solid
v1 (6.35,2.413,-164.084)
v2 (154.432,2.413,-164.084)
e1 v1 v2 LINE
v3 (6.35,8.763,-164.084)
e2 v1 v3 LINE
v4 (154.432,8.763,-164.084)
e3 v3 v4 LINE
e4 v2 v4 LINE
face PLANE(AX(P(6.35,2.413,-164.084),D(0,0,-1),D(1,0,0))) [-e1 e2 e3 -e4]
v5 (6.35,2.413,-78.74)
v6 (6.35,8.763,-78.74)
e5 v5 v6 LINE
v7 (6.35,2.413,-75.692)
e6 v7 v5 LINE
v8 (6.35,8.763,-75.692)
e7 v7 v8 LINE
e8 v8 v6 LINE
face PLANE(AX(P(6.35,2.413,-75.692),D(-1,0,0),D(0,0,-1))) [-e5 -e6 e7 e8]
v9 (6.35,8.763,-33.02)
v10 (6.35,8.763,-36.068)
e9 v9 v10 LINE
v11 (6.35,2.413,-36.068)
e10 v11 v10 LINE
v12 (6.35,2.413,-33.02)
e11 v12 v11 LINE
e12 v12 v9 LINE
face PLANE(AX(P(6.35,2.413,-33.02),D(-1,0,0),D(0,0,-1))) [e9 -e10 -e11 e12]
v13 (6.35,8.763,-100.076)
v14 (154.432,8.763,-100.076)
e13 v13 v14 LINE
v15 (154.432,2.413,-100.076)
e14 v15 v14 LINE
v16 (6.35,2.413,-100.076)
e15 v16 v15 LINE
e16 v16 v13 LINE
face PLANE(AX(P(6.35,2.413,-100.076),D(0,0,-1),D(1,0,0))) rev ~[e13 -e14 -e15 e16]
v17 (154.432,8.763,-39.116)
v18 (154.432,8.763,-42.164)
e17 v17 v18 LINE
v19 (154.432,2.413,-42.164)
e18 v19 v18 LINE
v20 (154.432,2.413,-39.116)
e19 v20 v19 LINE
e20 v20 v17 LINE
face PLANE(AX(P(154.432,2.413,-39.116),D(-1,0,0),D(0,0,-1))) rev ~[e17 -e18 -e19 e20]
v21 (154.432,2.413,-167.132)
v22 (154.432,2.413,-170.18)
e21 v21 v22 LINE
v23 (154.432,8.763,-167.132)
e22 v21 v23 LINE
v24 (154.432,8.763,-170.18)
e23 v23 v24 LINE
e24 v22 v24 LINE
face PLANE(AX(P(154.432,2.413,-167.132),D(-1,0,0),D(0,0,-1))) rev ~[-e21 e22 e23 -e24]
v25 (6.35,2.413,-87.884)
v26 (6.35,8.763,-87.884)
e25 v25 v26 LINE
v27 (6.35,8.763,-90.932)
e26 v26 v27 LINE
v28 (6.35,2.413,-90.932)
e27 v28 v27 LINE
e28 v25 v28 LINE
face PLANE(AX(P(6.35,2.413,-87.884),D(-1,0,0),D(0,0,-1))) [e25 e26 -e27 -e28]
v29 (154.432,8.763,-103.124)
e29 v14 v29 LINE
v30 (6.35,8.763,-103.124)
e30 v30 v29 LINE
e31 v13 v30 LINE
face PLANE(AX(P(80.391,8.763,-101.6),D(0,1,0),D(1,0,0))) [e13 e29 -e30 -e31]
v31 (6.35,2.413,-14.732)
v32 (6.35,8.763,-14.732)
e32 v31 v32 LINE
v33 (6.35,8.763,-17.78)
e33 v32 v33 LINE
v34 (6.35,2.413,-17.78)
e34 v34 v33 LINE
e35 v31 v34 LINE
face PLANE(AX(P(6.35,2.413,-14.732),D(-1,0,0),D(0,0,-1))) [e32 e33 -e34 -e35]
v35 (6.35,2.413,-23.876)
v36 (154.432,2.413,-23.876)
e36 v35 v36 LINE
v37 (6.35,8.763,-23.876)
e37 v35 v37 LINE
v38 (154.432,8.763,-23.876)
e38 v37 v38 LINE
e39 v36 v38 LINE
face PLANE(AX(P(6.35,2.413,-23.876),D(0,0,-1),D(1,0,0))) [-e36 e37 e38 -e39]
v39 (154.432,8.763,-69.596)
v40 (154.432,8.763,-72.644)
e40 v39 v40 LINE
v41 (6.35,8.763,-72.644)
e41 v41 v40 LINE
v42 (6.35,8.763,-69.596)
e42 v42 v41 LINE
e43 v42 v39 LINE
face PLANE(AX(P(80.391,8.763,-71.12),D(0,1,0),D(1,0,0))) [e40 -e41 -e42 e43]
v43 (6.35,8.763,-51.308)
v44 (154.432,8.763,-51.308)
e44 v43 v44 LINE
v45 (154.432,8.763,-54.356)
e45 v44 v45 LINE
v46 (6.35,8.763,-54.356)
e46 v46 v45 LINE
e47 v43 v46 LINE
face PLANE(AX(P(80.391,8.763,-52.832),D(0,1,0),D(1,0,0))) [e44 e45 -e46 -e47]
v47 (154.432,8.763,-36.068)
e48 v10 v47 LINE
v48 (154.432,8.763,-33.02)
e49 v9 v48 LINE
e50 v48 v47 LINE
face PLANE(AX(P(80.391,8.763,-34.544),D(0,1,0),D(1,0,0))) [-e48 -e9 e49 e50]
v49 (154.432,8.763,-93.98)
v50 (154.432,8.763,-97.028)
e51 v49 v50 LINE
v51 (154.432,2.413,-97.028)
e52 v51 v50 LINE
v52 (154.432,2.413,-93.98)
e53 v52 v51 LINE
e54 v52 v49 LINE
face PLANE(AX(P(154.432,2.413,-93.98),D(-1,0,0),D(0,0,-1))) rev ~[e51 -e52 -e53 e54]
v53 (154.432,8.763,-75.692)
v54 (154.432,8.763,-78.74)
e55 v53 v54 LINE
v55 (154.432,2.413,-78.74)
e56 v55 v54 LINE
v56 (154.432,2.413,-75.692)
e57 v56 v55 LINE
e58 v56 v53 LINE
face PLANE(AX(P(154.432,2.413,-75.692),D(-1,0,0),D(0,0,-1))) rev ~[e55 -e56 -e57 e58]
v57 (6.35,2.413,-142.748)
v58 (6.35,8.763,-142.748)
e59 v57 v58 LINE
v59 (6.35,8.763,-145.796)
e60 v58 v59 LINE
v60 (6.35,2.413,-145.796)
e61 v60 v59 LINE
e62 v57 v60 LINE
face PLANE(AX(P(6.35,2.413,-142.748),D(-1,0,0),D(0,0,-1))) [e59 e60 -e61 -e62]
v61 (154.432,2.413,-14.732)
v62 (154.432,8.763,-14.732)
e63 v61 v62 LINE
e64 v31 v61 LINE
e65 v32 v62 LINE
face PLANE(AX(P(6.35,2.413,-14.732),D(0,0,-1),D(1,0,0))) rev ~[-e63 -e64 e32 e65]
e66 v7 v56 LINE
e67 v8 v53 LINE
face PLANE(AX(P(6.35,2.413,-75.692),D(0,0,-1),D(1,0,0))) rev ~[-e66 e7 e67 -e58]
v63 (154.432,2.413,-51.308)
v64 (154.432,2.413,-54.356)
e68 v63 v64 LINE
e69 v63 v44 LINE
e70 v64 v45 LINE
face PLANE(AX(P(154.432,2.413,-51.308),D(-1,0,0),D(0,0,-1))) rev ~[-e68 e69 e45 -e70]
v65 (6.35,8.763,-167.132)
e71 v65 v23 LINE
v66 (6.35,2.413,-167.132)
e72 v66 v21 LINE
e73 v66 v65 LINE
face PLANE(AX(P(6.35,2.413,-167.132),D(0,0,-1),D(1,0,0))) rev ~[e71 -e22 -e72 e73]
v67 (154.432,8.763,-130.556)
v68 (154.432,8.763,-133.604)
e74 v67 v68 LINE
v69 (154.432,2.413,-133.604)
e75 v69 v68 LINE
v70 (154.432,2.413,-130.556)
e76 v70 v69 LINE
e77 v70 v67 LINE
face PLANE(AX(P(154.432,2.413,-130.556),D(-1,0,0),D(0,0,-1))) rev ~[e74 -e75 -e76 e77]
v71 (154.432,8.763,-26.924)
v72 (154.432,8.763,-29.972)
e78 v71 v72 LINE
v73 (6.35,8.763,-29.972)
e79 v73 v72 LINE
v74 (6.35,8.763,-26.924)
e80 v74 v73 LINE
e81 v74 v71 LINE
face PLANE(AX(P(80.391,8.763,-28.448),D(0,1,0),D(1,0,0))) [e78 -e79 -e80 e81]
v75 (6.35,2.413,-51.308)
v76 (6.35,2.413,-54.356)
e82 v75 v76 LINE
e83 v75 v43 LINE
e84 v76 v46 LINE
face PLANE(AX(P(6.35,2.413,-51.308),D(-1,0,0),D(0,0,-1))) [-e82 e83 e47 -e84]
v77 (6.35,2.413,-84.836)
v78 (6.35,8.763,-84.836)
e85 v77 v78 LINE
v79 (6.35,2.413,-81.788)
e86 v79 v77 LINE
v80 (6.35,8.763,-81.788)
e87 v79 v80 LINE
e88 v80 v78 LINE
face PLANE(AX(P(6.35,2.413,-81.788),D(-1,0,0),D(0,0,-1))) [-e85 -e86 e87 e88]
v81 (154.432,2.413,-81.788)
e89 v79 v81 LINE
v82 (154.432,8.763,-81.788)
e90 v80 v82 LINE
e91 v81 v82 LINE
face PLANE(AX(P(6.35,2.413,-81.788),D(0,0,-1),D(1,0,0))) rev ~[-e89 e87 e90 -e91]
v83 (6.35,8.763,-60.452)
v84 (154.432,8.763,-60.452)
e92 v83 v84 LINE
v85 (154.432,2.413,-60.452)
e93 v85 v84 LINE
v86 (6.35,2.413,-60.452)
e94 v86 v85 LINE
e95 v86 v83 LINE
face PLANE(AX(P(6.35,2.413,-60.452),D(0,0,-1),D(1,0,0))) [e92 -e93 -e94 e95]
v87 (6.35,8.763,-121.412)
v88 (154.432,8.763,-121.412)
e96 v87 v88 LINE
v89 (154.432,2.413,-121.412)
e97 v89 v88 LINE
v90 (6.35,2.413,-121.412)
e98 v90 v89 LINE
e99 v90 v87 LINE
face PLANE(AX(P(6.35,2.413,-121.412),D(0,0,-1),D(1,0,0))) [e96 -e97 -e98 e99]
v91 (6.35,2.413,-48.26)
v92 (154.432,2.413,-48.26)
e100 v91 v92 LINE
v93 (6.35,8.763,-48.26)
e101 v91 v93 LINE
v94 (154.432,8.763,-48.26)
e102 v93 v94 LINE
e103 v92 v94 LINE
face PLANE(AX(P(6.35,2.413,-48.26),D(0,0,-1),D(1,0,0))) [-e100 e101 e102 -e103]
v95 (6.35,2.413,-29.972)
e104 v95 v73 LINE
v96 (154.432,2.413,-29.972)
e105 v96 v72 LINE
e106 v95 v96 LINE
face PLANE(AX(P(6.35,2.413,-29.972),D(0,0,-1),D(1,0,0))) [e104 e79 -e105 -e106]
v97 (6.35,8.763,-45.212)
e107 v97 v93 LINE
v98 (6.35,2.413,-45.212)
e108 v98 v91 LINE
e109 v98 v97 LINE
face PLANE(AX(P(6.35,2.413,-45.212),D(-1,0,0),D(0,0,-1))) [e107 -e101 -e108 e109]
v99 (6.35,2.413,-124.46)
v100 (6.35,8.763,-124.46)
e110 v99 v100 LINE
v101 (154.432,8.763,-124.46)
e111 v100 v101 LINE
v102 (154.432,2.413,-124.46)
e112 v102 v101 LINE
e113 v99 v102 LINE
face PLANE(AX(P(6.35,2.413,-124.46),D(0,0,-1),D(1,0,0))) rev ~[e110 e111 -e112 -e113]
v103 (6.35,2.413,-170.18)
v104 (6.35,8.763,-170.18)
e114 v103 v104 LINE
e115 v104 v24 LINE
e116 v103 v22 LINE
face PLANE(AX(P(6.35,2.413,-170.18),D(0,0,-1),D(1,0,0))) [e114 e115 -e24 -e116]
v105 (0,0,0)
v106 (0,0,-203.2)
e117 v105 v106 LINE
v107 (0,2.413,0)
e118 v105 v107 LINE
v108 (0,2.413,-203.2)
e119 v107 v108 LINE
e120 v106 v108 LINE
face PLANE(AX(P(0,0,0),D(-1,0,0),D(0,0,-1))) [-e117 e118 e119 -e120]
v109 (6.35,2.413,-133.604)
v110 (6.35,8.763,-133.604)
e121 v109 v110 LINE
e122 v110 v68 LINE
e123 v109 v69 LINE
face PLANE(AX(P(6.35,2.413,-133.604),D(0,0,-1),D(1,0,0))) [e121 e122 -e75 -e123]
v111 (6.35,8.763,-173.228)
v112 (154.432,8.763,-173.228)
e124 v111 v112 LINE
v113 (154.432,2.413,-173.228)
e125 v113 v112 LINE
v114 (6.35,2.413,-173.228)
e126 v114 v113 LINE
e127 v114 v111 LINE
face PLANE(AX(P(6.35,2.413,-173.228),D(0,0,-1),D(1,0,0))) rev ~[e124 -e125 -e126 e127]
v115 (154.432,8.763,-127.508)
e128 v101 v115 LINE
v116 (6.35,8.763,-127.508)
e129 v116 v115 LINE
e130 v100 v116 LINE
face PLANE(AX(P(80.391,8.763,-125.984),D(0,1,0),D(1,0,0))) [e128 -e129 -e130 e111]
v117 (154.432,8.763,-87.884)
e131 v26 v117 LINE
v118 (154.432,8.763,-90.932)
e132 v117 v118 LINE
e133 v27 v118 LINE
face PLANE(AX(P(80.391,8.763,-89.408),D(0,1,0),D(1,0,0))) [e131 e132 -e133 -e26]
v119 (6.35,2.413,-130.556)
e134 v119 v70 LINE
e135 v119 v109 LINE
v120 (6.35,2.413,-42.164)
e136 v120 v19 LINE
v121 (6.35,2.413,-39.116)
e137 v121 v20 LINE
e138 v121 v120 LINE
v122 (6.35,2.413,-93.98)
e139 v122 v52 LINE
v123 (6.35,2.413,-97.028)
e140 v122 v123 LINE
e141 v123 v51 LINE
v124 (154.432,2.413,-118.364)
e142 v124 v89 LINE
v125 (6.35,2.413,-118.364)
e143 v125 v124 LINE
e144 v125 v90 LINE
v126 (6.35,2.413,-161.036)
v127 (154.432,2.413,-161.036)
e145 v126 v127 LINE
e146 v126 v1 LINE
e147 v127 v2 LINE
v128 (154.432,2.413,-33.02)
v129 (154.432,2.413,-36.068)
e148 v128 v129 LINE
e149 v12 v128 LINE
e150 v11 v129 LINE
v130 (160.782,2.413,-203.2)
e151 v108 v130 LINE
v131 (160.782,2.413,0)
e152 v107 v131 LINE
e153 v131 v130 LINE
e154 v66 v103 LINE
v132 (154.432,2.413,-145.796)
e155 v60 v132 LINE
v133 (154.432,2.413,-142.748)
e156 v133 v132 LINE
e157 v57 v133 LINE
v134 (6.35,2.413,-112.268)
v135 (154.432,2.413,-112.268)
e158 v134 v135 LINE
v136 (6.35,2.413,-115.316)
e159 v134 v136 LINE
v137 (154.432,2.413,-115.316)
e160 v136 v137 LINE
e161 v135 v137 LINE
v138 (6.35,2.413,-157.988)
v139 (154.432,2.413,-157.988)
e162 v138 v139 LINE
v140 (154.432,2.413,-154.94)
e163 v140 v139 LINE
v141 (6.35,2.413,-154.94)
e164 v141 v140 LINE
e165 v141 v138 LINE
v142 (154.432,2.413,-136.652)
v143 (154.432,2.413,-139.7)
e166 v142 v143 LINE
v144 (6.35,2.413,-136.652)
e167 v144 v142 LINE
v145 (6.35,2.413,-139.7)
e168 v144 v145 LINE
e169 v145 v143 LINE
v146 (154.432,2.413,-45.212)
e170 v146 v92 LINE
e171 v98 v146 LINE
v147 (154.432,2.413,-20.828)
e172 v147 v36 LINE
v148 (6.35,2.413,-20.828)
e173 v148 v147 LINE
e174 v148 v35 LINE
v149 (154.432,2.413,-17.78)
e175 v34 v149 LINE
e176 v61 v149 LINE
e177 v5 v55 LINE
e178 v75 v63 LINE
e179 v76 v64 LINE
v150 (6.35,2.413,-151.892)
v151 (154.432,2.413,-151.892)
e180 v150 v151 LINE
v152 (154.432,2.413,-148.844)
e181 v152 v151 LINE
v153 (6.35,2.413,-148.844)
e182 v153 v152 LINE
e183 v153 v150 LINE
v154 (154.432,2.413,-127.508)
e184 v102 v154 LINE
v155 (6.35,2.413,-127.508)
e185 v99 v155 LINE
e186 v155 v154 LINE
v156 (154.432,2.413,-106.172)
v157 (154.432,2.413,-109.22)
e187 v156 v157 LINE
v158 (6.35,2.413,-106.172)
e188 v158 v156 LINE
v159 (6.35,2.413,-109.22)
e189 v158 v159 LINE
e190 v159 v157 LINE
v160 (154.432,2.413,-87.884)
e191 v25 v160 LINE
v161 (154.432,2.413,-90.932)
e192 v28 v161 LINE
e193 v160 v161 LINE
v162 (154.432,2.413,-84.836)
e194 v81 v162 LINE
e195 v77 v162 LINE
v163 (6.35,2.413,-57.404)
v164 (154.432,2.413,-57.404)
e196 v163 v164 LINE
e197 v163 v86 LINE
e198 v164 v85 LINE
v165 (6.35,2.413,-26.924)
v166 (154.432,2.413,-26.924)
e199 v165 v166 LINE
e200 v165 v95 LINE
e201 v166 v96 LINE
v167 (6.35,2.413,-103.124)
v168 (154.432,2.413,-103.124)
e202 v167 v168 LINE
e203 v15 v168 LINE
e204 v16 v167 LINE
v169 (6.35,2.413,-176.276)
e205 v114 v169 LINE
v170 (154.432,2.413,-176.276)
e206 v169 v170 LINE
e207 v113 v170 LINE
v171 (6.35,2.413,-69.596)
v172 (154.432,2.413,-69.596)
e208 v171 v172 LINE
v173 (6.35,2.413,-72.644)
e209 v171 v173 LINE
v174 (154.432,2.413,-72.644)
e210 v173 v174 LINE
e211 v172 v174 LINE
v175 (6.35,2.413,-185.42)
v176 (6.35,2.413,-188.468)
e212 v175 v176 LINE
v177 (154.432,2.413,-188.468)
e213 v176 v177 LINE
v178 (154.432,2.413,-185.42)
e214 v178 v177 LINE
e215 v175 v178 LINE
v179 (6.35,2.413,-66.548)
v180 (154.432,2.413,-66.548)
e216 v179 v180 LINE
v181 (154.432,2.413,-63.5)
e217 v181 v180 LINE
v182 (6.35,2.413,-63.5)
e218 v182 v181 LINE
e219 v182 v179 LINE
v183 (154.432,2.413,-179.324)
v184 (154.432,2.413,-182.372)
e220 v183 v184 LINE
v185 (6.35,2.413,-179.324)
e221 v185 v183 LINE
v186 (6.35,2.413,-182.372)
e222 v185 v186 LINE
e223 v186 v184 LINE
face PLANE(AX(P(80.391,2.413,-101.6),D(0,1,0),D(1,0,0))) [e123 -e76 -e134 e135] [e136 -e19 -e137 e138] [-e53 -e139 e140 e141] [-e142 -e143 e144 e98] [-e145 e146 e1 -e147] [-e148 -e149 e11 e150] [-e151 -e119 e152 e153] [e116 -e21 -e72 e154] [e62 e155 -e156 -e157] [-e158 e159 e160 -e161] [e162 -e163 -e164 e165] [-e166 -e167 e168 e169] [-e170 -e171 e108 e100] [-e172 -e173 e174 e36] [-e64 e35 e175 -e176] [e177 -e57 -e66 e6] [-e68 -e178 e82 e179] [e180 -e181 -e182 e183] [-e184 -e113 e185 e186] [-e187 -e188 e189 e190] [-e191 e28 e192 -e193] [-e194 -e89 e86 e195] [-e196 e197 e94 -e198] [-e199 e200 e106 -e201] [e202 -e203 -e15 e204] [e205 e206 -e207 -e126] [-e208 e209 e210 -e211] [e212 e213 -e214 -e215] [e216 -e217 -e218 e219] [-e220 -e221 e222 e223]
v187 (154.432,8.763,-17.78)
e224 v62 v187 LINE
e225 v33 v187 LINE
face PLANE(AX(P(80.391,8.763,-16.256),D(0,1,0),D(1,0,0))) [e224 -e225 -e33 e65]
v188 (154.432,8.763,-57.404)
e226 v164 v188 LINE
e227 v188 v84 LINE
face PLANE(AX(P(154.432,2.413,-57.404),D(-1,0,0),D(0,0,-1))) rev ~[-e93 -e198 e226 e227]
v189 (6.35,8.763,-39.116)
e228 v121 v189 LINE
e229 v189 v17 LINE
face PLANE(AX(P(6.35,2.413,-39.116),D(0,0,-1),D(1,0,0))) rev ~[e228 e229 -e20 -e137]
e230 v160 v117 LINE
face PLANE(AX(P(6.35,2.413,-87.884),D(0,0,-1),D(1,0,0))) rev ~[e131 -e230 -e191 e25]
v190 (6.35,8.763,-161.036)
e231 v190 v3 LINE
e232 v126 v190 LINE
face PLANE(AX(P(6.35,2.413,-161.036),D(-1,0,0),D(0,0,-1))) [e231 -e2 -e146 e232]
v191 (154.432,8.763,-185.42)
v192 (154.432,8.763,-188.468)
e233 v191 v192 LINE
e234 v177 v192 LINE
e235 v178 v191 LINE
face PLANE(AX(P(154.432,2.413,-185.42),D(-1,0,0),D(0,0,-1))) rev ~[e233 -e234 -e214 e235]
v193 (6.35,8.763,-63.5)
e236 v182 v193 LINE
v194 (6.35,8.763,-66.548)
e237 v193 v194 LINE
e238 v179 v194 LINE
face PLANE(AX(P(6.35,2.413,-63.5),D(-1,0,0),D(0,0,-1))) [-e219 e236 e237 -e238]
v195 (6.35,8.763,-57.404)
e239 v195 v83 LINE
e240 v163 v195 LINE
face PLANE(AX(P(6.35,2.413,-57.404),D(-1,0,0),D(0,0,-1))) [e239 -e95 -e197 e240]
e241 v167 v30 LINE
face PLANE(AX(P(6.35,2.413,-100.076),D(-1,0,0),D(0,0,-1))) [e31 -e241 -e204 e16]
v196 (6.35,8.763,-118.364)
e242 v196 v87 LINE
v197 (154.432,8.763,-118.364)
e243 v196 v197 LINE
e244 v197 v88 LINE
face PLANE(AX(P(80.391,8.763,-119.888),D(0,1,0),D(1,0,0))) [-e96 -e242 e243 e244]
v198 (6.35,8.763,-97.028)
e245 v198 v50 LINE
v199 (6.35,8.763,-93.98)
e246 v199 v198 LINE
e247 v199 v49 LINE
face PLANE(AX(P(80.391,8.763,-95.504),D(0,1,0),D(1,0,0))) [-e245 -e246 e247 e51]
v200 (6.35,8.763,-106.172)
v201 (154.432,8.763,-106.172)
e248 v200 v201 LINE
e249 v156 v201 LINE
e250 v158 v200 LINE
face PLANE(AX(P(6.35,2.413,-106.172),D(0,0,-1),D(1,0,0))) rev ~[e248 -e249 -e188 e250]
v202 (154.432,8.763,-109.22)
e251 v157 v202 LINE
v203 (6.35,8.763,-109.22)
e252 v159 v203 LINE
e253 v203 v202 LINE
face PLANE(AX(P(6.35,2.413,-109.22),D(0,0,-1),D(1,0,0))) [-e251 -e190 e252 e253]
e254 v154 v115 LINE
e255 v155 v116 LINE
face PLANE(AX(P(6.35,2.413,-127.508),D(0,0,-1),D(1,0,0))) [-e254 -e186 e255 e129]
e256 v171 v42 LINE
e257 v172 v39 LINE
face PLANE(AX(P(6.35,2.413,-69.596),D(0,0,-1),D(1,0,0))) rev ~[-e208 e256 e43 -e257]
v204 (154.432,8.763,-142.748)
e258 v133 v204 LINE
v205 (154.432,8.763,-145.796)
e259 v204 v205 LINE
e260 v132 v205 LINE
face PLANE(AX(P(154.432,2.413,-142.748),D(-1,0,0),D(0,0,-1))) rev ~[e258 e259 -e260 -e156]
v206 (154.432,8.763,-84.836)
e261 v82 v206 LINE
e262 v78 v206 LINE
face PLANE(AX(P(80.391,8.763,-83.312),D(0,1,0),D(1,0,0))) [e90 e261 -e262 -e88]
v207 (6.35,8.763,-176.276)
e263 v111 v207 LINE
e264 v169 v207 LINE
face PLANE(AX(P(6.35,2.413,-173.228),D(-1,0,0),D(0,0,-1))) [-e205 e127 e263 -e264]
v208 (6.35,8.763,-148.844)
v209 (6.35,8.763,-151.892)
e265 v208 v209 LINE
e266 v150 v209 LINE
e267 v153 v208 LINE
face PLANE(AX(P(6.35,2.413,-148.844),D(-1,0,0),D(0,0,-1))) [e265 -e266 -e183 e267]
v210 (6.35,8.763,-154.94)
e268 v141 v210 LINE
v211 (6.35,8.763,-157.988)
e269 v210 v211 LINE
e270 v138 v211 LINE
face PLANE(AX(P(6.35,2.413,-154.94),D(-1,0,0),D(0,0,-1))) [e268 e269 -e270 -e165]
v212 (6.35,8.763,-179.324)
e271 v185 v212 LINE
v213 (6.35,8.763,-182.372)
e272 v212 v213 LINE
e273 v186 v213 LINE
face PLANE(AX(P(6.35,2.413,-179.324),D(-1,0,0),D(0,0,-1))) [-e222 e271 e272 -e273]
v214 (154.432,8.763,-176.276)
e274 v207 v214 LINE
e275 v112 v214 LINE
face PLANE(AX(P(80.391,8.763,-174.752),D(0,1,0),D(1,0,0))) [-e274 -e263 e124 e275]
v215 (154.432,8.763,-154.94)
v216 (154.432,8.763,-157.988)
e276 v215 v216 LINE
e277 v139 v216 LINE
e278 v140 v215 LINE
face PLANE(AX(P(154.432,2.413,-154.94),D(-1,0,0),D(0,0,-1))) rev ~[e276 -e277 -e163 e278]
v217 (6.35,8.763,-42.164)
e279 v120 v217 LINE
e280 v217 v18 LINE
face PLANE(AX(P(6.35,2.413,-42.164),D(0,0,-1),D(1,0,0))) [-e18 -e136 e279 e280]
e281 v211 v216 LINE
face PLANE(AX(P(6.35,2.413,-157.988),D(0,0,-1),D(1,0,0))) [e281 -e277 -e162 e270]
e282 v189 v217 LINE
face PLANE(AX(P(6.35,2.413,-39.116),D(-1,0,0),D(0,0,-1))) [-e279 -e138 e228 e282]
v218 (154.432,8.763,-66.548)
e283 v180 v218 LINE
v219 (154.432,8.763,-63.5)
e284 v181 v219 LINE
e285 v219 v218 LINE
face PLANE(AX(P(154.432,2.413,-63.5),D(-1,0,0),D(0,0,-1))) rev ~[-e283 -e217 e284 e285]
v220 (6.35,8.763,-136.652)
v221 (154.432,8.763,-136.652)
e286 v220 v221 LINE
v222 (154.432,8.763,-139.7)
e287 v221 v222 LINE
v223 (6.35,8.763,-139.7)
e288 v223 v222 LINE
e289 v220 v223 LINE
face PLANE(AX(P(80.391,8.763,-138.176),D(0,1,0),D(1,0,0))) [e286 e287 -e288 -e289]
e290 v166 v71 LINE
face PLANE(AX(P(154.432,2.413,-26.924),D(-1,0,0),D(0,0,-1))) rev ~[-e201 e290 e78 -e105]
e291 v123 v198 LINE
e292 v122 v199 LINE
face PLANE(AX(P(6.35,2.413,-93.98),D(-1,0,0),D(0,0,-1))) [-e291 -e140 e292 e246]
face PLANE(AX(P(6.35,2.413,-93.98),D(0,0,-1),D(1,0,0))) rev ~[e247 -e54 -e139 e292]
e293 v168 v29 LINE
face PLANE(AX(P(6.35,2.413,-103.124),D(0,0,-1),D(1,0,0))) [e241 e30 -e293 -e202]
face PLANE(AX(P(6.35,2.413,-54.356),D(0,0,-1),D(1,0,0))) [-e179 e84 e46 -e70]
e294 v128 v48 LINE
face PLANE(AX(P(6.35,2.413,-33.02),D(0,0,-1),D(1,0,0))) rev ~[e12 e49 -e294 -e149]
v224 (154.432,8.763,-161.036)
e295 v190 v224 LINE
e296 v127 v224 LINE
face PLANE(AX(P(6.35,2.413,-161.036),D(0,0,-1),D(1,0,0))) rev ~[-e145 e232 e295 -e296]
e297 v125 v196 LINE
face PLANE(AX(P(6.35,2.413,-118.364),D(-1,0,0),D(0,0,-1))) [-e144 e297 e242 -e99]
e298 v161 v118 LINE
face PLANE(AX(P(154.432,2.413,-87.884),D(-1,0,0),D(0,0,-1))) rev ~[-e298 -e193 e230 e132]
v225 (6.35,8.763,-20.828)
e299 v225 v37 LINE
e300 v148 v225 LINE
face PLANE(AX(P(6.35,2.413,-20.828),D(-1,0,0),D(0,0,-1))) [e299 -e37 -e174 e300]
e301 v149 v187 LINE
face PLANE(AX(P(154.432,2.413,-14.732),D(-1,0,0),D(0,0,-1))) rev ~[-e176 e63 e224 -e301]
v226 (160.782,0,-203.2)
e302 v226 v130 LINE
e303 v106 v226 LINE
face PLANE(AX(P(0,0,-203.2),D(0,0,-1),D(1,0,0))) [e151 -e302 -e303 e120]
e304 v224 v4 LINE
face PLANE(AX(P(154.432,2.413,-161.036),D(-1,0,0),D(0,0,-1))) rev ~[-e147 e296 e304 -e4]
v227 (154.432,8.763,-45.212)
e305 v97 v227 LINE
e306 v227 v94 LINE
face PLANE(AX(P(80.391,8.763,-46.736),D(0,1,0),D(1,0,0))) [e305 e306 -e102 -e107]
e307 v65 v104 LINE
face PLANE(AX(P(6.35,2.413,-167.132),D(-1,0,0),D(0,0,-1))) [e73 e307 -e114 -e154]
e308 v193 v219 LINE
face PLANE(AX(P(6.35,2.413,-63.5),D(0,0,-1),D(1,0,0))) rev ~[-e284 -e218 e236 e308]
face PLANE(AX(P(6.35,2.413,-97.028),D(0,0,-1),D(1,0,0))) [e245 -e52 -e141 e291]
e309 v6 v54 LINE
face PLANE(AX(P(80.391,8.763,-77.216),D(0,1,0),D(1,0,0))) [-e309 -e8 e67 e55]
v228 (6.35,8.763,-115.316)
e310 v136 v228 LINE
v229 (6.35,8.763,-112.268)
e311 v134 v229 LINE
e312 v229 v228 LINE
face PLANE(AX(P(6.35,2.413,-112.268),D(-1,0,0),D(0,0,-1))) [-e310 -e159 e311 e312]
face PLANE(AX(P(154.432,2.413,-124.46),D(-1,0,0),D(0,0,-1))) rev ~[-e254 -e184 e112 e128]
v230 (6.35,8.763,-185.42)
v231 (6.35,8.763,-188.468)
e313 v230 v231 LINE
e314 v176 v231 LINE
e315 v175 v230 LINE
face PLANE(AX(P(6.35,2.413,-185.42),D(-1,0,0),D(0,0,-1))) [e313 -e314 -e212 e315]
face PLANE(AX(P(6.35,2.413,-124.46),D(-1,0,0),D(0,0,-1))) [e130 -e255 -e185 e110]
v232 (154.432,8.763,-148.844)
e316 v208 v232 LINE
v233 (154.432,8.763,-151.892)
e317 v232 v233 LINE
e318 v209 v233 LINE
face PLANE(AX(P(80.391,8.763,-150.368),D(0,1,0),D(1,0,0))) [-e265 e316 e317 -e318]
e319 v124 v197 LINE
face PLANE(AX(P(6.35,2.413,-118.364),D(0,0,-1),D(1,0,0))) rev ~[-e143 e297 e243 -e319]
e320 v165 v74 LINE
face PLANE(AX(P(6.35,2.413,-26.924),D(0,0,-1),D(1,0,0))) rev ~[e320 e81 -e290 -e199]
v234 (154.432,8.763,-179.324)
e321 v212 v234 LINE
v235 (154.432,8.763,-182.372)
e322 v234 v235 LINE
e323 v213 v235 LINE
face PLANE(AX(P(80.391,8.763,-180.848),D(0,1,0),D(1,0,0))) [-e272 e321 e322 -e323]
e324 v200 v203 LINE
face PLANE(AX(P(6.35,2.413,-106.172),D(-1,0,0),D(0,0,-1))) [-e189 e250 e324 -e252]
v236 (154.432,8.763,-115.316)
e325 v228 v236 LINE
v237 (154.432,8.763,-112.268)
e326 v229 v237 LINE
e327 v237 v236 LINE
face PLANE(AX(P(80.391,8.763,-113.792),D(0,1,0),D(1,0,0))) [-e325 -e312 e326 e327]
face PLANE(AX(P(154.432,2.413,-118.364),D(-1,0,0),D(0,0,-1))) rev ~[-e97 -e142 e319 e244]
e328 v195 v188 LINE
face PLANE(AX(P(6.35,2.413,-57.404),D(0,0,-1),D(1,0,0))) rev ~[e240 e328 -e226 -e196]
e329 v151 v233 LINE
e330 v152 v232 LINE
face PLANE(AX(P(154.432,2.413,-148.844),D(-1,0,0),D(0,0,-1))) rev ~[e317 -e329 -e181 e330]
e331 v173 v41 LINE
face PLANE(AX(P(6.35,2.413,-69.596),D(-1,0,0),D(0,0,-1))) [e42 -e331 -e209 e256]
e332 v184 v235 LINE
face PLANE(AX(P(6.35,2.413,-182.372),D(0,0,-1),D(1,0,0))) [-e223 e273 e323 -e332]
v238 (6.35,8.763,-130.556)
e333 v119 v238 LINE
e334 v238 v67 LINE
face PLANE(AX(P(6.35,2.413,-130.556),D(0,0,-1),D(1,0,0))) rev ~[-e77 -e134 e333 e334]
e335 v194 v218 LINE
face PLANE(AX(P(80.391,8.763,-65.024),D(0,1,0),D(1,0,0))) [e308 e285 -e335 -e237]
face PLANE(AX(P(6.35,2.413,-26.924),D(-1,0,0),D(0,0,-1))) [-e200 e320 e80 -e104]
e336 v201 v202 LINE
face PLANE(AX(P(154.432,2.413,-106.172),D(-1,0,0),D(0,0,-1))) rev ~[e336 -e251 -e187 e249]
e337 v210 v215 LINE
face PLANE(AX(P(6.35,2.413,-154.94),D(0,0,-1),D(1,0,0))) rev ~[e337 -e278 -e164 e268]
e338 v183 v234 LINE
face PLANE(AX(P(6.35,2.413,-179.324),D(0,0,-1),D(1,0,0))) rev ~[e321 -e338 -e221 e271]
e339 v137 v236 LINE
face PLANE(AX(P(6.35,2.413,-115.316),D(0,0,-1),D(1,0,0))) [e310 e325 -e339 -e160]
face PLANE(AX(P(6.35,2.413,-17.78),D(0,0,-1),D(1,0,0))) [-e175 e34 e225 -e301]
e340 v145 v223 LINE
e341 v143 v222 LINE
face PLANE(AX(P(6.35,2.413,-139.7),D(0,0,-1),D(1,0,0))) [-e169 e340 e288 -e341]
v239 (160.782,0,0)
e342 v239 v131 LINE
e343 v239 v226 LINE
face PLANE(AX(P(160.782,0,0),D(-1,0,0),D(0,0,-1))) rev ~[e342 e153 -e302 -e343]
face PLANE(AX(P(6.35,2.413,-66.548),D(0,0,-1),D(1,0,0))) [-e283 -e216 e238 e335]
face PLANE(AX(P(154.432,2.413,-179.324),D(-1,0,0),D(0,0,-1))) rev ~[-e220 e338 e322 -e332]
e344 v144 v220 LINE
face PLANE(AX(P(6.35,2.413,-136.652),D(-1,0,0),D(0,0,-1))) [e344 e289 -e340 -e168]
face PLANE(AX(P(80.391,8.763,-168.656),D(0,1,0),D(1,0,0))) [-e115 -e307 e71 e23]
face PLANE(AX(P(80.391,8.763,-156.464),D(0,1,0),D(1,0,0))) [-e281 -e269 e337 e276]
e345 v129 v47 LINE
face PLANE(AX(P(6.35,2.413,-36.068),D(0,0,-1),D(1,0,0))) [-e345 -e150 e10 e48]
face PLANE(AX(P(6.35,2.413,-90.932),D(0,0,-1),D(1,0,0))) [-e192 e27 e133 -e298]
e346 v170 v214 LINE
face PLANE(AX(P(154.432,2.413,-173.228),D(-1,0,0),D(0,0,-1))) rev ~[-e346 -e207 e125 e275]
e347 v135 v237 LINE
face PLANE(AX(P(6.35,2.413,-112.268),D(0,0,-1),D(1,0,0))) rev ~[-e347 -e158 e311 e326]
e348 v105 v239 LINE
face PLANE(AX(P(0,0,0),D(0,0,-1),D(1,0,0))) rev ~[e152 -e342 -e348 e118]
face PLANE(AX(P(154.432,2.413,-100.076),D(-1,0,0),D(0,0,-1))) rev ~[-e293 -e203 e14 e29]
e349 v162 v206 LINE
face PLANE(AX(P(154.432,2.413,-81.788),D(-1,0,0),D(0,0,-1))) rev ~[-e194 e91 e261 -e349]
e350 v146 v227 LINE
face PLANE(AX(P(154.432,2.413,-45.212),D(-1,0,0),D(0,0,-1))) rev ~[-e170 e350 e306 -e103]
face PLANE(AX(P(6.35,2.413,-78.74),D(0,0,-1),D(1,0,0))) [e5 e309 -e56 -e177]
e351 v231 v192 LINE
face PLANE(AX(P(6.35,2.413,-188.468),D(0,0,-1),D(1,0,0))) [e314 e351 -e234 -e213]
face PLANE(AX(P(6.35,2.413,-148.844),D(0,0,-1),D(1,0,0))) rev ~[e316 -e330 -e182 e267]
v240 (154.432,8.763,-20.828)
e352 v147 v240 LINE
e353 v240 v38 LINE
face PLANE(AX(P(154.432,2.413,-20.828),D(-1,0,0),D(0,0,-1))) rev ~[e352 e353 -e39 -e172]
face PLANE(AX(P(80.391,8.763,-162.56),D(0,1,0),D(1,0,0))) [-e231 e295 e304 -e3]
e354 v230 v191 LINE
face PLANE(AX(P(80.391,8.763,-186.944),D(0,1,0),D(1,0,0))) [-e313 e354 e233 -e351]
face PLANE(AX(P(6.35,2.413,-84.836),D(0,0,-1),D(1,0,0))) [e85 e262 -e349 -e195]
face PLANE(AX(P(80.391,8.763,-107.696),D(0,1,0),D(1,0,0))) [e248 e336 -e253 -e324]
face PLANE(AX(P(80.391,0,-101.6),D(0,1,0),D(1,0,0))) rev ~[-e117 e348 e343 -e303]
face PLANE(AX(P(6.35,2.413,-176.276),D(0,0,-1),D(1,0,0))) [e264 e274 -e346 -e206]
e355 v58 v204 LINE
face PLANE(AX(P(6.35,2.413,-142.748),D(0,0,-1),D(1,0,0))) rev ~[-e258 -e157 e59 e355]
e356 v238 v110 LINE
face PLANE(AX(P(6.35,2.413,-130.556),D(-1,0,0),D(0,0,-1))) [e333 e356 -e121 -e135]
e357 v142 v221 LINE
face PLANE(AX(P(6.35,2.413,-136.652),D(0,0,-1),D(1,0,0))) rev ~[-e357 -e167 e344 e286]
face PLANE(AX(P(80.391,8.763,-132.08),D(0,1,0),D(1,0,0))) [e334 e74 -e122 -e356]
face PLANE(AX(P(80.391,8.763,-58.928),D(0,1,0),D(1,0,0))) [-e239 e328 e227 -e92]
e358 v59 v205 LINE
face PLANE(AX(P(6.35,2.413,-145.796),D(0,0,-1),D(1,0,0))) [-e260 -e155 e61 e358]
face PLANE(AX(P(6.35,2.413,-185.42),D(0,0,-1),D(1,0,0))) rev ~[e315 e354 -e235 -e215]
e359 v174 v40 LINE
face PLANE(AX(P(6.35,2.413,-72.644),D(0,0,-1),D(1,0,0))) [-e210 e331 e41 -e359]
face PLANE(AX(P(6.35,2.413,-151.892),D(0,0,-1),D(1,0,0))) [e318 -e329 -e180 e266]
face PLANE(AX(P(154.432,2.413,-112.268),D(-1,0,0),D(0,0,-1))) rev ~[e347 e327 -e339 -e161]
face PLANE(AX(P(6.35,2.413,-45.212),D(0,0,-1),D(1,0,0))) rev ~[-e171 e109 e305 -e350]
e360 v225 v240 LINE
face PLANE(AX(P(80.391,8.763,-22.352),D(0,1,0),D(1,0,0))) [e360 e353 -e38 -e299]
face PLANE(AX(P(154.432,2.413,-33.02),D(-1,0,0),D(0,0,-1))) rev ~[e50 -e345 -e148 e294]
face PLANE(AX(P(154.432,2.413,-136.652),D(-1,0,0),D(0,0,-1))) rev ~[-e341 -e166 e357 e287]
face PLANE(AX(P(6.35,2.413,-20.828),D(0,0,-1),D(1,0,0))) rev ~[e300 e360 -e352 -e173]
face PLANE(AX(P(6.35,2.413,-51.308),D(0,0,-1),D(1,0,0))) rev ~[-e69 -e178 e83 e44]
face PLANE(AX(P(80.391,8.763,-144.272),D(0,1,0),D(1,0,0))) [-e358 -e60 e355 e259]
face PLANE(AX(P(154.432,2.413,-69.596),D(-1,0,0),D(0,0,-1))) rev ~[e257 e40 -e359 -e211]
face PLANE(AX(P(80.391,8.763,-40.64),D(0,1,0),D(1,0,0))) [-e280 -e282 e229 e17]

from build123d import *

# Parameters (mm, degrees)
SKETCH1_W           = 160.782
SKETCH1_H           = 203.2
BOSS_EXTRUDE1_DEPTH = 2.413
SKETCH2_W           = 148.082
SKETCH2_H           = 3.048
BOSS_EXTRUDE2_DEPTH = 6.35


with BuildPart() as part:
    # Sketch1 → Boss-Extrude1 (new body)
    with BuildSketch(Plane(origin=(0, 0, 0), x_dir=(1, 0, 0), z_dir=(0, 1, 0))):
        with Locations((80.391, 101.6)):
            Rectangle(SKETCH1_W, SKETCH1_H)
    extrude(amount=BOSS_EXTRUDE1_DEPTH)

    # Sketch2 → Boss-Extrude2 (add)
    with BuildSketch(Plane(origin=(0, 2.413, 0), x_dir=(1, 0, 0), z_dir=(0, 1, 0))):
        with Locations((80.391, 180.848)):
            Rectangle(SKETCH2_W, SKETCH2_H)
        with Locations((80.391, 186.944)):
            Rectangle(SKETCH2_W, SKETCH2_H)
        with Locations((80.391, 174.752)):
            Rectangle(SKETCH2_W, SKETCH2_H)
        with Locations((80.391, 168.656)):
            Rectangle(SKETCH2_W, SKETCH2_H)
        with Locations((80.391, 162.56)):
            Rectangle(SKETCH2_W, SKETCH2_H)
        with Locations((80.391, 156.464)):
            Rectangle(SKETCH2_W, SKETCH2_H)
        with Locations((80.391, 150.368)):
            Rectangle(SKETCH2_W, SKETCH2_H)
        with Locations((80.391, 144.272)):
            Rectangle(SKETCH2_W, SKETCH2_H)
        with Locations((80.391, 138.176)):
            Rectangle(SKETCH2_W, SKETCH2_H)
        with Locations((80.391, 132.08)):
            Rectangle(SKETCH2_W, SKETCH2_H)
        with Locations((80.391, 125.984)):
            Rectangle(SKETCH2_W, SKETCH2_H)
        with Locations((80.391, 119.888)):
            Rectangle(SKETCH2_W, SKETCH2_H)
        with Locations((80.391, 113.792)):
            Rectangle(SKETCH2_W, SKETCH2_H)
        with Locations((80.391, 107.696)):
            Rectangle(SKETCH2_W, SKETCH2_H)
        with Locations((80.391, 101.6)):
            Rectangle(SKETCH2_W, SKETCH2_H)
        with Locations((80.391, 95.504)):
            Rectangle(SKETCH2_W, SKETCH2_H)
        with Locations((80.391, 89.408)):
            Rectangle(SKETCH2_W, SKETCH2_H)
        with Locations((80.391, 83.312)):
            Rectangle(SKETCH2_W, SKETCH2_H)
        with Locations((80.391, 77.216)):
            Rectangle(SKETCH2_W, SKETCH2_H)
        with Locations((80.391, 71.12)):
            Rectangle(SKETCH2_W, SKETCH2_H)
        with Locations((80.391, 65.024)):
            Rectangle(SKETCH2_W, SKETCH2_H)
        with Locations((80.391, 58.928)):
            Rectangle(SKETCH2_W, SKETCH2_H)
        with Locations((80.391, 52.832)):
            Rectangle(SKETCH2_W, SKETCH2_H)
        with Locations((80.391, 46.736)):
            Rectangle(SKETCH2_W, SKETCH2_H)
        with Locations((80.391, 40.64)):
            Rectangle(SKETCH2_W, SKETCH2_H)
        with Locations((80.391, 34.544)):
            Rectangle(SKETCH2_W, SKETCH2_H)
        with Locations((80.391, 28.448)):
            Rectangle(SKETCH2_W, SKETCH2_H)
        with Locations((80.391, 22.352)):
            Rectangle(SKETCH2_W, SKETCH2_H)
        with Locations((80.391, 16.256)):
            Rectangle(SKETCH2_W, SKETCH2_H)
    extrude(amount=BOSS_EXTRUDE2_DEPTH)


solid = part.part
